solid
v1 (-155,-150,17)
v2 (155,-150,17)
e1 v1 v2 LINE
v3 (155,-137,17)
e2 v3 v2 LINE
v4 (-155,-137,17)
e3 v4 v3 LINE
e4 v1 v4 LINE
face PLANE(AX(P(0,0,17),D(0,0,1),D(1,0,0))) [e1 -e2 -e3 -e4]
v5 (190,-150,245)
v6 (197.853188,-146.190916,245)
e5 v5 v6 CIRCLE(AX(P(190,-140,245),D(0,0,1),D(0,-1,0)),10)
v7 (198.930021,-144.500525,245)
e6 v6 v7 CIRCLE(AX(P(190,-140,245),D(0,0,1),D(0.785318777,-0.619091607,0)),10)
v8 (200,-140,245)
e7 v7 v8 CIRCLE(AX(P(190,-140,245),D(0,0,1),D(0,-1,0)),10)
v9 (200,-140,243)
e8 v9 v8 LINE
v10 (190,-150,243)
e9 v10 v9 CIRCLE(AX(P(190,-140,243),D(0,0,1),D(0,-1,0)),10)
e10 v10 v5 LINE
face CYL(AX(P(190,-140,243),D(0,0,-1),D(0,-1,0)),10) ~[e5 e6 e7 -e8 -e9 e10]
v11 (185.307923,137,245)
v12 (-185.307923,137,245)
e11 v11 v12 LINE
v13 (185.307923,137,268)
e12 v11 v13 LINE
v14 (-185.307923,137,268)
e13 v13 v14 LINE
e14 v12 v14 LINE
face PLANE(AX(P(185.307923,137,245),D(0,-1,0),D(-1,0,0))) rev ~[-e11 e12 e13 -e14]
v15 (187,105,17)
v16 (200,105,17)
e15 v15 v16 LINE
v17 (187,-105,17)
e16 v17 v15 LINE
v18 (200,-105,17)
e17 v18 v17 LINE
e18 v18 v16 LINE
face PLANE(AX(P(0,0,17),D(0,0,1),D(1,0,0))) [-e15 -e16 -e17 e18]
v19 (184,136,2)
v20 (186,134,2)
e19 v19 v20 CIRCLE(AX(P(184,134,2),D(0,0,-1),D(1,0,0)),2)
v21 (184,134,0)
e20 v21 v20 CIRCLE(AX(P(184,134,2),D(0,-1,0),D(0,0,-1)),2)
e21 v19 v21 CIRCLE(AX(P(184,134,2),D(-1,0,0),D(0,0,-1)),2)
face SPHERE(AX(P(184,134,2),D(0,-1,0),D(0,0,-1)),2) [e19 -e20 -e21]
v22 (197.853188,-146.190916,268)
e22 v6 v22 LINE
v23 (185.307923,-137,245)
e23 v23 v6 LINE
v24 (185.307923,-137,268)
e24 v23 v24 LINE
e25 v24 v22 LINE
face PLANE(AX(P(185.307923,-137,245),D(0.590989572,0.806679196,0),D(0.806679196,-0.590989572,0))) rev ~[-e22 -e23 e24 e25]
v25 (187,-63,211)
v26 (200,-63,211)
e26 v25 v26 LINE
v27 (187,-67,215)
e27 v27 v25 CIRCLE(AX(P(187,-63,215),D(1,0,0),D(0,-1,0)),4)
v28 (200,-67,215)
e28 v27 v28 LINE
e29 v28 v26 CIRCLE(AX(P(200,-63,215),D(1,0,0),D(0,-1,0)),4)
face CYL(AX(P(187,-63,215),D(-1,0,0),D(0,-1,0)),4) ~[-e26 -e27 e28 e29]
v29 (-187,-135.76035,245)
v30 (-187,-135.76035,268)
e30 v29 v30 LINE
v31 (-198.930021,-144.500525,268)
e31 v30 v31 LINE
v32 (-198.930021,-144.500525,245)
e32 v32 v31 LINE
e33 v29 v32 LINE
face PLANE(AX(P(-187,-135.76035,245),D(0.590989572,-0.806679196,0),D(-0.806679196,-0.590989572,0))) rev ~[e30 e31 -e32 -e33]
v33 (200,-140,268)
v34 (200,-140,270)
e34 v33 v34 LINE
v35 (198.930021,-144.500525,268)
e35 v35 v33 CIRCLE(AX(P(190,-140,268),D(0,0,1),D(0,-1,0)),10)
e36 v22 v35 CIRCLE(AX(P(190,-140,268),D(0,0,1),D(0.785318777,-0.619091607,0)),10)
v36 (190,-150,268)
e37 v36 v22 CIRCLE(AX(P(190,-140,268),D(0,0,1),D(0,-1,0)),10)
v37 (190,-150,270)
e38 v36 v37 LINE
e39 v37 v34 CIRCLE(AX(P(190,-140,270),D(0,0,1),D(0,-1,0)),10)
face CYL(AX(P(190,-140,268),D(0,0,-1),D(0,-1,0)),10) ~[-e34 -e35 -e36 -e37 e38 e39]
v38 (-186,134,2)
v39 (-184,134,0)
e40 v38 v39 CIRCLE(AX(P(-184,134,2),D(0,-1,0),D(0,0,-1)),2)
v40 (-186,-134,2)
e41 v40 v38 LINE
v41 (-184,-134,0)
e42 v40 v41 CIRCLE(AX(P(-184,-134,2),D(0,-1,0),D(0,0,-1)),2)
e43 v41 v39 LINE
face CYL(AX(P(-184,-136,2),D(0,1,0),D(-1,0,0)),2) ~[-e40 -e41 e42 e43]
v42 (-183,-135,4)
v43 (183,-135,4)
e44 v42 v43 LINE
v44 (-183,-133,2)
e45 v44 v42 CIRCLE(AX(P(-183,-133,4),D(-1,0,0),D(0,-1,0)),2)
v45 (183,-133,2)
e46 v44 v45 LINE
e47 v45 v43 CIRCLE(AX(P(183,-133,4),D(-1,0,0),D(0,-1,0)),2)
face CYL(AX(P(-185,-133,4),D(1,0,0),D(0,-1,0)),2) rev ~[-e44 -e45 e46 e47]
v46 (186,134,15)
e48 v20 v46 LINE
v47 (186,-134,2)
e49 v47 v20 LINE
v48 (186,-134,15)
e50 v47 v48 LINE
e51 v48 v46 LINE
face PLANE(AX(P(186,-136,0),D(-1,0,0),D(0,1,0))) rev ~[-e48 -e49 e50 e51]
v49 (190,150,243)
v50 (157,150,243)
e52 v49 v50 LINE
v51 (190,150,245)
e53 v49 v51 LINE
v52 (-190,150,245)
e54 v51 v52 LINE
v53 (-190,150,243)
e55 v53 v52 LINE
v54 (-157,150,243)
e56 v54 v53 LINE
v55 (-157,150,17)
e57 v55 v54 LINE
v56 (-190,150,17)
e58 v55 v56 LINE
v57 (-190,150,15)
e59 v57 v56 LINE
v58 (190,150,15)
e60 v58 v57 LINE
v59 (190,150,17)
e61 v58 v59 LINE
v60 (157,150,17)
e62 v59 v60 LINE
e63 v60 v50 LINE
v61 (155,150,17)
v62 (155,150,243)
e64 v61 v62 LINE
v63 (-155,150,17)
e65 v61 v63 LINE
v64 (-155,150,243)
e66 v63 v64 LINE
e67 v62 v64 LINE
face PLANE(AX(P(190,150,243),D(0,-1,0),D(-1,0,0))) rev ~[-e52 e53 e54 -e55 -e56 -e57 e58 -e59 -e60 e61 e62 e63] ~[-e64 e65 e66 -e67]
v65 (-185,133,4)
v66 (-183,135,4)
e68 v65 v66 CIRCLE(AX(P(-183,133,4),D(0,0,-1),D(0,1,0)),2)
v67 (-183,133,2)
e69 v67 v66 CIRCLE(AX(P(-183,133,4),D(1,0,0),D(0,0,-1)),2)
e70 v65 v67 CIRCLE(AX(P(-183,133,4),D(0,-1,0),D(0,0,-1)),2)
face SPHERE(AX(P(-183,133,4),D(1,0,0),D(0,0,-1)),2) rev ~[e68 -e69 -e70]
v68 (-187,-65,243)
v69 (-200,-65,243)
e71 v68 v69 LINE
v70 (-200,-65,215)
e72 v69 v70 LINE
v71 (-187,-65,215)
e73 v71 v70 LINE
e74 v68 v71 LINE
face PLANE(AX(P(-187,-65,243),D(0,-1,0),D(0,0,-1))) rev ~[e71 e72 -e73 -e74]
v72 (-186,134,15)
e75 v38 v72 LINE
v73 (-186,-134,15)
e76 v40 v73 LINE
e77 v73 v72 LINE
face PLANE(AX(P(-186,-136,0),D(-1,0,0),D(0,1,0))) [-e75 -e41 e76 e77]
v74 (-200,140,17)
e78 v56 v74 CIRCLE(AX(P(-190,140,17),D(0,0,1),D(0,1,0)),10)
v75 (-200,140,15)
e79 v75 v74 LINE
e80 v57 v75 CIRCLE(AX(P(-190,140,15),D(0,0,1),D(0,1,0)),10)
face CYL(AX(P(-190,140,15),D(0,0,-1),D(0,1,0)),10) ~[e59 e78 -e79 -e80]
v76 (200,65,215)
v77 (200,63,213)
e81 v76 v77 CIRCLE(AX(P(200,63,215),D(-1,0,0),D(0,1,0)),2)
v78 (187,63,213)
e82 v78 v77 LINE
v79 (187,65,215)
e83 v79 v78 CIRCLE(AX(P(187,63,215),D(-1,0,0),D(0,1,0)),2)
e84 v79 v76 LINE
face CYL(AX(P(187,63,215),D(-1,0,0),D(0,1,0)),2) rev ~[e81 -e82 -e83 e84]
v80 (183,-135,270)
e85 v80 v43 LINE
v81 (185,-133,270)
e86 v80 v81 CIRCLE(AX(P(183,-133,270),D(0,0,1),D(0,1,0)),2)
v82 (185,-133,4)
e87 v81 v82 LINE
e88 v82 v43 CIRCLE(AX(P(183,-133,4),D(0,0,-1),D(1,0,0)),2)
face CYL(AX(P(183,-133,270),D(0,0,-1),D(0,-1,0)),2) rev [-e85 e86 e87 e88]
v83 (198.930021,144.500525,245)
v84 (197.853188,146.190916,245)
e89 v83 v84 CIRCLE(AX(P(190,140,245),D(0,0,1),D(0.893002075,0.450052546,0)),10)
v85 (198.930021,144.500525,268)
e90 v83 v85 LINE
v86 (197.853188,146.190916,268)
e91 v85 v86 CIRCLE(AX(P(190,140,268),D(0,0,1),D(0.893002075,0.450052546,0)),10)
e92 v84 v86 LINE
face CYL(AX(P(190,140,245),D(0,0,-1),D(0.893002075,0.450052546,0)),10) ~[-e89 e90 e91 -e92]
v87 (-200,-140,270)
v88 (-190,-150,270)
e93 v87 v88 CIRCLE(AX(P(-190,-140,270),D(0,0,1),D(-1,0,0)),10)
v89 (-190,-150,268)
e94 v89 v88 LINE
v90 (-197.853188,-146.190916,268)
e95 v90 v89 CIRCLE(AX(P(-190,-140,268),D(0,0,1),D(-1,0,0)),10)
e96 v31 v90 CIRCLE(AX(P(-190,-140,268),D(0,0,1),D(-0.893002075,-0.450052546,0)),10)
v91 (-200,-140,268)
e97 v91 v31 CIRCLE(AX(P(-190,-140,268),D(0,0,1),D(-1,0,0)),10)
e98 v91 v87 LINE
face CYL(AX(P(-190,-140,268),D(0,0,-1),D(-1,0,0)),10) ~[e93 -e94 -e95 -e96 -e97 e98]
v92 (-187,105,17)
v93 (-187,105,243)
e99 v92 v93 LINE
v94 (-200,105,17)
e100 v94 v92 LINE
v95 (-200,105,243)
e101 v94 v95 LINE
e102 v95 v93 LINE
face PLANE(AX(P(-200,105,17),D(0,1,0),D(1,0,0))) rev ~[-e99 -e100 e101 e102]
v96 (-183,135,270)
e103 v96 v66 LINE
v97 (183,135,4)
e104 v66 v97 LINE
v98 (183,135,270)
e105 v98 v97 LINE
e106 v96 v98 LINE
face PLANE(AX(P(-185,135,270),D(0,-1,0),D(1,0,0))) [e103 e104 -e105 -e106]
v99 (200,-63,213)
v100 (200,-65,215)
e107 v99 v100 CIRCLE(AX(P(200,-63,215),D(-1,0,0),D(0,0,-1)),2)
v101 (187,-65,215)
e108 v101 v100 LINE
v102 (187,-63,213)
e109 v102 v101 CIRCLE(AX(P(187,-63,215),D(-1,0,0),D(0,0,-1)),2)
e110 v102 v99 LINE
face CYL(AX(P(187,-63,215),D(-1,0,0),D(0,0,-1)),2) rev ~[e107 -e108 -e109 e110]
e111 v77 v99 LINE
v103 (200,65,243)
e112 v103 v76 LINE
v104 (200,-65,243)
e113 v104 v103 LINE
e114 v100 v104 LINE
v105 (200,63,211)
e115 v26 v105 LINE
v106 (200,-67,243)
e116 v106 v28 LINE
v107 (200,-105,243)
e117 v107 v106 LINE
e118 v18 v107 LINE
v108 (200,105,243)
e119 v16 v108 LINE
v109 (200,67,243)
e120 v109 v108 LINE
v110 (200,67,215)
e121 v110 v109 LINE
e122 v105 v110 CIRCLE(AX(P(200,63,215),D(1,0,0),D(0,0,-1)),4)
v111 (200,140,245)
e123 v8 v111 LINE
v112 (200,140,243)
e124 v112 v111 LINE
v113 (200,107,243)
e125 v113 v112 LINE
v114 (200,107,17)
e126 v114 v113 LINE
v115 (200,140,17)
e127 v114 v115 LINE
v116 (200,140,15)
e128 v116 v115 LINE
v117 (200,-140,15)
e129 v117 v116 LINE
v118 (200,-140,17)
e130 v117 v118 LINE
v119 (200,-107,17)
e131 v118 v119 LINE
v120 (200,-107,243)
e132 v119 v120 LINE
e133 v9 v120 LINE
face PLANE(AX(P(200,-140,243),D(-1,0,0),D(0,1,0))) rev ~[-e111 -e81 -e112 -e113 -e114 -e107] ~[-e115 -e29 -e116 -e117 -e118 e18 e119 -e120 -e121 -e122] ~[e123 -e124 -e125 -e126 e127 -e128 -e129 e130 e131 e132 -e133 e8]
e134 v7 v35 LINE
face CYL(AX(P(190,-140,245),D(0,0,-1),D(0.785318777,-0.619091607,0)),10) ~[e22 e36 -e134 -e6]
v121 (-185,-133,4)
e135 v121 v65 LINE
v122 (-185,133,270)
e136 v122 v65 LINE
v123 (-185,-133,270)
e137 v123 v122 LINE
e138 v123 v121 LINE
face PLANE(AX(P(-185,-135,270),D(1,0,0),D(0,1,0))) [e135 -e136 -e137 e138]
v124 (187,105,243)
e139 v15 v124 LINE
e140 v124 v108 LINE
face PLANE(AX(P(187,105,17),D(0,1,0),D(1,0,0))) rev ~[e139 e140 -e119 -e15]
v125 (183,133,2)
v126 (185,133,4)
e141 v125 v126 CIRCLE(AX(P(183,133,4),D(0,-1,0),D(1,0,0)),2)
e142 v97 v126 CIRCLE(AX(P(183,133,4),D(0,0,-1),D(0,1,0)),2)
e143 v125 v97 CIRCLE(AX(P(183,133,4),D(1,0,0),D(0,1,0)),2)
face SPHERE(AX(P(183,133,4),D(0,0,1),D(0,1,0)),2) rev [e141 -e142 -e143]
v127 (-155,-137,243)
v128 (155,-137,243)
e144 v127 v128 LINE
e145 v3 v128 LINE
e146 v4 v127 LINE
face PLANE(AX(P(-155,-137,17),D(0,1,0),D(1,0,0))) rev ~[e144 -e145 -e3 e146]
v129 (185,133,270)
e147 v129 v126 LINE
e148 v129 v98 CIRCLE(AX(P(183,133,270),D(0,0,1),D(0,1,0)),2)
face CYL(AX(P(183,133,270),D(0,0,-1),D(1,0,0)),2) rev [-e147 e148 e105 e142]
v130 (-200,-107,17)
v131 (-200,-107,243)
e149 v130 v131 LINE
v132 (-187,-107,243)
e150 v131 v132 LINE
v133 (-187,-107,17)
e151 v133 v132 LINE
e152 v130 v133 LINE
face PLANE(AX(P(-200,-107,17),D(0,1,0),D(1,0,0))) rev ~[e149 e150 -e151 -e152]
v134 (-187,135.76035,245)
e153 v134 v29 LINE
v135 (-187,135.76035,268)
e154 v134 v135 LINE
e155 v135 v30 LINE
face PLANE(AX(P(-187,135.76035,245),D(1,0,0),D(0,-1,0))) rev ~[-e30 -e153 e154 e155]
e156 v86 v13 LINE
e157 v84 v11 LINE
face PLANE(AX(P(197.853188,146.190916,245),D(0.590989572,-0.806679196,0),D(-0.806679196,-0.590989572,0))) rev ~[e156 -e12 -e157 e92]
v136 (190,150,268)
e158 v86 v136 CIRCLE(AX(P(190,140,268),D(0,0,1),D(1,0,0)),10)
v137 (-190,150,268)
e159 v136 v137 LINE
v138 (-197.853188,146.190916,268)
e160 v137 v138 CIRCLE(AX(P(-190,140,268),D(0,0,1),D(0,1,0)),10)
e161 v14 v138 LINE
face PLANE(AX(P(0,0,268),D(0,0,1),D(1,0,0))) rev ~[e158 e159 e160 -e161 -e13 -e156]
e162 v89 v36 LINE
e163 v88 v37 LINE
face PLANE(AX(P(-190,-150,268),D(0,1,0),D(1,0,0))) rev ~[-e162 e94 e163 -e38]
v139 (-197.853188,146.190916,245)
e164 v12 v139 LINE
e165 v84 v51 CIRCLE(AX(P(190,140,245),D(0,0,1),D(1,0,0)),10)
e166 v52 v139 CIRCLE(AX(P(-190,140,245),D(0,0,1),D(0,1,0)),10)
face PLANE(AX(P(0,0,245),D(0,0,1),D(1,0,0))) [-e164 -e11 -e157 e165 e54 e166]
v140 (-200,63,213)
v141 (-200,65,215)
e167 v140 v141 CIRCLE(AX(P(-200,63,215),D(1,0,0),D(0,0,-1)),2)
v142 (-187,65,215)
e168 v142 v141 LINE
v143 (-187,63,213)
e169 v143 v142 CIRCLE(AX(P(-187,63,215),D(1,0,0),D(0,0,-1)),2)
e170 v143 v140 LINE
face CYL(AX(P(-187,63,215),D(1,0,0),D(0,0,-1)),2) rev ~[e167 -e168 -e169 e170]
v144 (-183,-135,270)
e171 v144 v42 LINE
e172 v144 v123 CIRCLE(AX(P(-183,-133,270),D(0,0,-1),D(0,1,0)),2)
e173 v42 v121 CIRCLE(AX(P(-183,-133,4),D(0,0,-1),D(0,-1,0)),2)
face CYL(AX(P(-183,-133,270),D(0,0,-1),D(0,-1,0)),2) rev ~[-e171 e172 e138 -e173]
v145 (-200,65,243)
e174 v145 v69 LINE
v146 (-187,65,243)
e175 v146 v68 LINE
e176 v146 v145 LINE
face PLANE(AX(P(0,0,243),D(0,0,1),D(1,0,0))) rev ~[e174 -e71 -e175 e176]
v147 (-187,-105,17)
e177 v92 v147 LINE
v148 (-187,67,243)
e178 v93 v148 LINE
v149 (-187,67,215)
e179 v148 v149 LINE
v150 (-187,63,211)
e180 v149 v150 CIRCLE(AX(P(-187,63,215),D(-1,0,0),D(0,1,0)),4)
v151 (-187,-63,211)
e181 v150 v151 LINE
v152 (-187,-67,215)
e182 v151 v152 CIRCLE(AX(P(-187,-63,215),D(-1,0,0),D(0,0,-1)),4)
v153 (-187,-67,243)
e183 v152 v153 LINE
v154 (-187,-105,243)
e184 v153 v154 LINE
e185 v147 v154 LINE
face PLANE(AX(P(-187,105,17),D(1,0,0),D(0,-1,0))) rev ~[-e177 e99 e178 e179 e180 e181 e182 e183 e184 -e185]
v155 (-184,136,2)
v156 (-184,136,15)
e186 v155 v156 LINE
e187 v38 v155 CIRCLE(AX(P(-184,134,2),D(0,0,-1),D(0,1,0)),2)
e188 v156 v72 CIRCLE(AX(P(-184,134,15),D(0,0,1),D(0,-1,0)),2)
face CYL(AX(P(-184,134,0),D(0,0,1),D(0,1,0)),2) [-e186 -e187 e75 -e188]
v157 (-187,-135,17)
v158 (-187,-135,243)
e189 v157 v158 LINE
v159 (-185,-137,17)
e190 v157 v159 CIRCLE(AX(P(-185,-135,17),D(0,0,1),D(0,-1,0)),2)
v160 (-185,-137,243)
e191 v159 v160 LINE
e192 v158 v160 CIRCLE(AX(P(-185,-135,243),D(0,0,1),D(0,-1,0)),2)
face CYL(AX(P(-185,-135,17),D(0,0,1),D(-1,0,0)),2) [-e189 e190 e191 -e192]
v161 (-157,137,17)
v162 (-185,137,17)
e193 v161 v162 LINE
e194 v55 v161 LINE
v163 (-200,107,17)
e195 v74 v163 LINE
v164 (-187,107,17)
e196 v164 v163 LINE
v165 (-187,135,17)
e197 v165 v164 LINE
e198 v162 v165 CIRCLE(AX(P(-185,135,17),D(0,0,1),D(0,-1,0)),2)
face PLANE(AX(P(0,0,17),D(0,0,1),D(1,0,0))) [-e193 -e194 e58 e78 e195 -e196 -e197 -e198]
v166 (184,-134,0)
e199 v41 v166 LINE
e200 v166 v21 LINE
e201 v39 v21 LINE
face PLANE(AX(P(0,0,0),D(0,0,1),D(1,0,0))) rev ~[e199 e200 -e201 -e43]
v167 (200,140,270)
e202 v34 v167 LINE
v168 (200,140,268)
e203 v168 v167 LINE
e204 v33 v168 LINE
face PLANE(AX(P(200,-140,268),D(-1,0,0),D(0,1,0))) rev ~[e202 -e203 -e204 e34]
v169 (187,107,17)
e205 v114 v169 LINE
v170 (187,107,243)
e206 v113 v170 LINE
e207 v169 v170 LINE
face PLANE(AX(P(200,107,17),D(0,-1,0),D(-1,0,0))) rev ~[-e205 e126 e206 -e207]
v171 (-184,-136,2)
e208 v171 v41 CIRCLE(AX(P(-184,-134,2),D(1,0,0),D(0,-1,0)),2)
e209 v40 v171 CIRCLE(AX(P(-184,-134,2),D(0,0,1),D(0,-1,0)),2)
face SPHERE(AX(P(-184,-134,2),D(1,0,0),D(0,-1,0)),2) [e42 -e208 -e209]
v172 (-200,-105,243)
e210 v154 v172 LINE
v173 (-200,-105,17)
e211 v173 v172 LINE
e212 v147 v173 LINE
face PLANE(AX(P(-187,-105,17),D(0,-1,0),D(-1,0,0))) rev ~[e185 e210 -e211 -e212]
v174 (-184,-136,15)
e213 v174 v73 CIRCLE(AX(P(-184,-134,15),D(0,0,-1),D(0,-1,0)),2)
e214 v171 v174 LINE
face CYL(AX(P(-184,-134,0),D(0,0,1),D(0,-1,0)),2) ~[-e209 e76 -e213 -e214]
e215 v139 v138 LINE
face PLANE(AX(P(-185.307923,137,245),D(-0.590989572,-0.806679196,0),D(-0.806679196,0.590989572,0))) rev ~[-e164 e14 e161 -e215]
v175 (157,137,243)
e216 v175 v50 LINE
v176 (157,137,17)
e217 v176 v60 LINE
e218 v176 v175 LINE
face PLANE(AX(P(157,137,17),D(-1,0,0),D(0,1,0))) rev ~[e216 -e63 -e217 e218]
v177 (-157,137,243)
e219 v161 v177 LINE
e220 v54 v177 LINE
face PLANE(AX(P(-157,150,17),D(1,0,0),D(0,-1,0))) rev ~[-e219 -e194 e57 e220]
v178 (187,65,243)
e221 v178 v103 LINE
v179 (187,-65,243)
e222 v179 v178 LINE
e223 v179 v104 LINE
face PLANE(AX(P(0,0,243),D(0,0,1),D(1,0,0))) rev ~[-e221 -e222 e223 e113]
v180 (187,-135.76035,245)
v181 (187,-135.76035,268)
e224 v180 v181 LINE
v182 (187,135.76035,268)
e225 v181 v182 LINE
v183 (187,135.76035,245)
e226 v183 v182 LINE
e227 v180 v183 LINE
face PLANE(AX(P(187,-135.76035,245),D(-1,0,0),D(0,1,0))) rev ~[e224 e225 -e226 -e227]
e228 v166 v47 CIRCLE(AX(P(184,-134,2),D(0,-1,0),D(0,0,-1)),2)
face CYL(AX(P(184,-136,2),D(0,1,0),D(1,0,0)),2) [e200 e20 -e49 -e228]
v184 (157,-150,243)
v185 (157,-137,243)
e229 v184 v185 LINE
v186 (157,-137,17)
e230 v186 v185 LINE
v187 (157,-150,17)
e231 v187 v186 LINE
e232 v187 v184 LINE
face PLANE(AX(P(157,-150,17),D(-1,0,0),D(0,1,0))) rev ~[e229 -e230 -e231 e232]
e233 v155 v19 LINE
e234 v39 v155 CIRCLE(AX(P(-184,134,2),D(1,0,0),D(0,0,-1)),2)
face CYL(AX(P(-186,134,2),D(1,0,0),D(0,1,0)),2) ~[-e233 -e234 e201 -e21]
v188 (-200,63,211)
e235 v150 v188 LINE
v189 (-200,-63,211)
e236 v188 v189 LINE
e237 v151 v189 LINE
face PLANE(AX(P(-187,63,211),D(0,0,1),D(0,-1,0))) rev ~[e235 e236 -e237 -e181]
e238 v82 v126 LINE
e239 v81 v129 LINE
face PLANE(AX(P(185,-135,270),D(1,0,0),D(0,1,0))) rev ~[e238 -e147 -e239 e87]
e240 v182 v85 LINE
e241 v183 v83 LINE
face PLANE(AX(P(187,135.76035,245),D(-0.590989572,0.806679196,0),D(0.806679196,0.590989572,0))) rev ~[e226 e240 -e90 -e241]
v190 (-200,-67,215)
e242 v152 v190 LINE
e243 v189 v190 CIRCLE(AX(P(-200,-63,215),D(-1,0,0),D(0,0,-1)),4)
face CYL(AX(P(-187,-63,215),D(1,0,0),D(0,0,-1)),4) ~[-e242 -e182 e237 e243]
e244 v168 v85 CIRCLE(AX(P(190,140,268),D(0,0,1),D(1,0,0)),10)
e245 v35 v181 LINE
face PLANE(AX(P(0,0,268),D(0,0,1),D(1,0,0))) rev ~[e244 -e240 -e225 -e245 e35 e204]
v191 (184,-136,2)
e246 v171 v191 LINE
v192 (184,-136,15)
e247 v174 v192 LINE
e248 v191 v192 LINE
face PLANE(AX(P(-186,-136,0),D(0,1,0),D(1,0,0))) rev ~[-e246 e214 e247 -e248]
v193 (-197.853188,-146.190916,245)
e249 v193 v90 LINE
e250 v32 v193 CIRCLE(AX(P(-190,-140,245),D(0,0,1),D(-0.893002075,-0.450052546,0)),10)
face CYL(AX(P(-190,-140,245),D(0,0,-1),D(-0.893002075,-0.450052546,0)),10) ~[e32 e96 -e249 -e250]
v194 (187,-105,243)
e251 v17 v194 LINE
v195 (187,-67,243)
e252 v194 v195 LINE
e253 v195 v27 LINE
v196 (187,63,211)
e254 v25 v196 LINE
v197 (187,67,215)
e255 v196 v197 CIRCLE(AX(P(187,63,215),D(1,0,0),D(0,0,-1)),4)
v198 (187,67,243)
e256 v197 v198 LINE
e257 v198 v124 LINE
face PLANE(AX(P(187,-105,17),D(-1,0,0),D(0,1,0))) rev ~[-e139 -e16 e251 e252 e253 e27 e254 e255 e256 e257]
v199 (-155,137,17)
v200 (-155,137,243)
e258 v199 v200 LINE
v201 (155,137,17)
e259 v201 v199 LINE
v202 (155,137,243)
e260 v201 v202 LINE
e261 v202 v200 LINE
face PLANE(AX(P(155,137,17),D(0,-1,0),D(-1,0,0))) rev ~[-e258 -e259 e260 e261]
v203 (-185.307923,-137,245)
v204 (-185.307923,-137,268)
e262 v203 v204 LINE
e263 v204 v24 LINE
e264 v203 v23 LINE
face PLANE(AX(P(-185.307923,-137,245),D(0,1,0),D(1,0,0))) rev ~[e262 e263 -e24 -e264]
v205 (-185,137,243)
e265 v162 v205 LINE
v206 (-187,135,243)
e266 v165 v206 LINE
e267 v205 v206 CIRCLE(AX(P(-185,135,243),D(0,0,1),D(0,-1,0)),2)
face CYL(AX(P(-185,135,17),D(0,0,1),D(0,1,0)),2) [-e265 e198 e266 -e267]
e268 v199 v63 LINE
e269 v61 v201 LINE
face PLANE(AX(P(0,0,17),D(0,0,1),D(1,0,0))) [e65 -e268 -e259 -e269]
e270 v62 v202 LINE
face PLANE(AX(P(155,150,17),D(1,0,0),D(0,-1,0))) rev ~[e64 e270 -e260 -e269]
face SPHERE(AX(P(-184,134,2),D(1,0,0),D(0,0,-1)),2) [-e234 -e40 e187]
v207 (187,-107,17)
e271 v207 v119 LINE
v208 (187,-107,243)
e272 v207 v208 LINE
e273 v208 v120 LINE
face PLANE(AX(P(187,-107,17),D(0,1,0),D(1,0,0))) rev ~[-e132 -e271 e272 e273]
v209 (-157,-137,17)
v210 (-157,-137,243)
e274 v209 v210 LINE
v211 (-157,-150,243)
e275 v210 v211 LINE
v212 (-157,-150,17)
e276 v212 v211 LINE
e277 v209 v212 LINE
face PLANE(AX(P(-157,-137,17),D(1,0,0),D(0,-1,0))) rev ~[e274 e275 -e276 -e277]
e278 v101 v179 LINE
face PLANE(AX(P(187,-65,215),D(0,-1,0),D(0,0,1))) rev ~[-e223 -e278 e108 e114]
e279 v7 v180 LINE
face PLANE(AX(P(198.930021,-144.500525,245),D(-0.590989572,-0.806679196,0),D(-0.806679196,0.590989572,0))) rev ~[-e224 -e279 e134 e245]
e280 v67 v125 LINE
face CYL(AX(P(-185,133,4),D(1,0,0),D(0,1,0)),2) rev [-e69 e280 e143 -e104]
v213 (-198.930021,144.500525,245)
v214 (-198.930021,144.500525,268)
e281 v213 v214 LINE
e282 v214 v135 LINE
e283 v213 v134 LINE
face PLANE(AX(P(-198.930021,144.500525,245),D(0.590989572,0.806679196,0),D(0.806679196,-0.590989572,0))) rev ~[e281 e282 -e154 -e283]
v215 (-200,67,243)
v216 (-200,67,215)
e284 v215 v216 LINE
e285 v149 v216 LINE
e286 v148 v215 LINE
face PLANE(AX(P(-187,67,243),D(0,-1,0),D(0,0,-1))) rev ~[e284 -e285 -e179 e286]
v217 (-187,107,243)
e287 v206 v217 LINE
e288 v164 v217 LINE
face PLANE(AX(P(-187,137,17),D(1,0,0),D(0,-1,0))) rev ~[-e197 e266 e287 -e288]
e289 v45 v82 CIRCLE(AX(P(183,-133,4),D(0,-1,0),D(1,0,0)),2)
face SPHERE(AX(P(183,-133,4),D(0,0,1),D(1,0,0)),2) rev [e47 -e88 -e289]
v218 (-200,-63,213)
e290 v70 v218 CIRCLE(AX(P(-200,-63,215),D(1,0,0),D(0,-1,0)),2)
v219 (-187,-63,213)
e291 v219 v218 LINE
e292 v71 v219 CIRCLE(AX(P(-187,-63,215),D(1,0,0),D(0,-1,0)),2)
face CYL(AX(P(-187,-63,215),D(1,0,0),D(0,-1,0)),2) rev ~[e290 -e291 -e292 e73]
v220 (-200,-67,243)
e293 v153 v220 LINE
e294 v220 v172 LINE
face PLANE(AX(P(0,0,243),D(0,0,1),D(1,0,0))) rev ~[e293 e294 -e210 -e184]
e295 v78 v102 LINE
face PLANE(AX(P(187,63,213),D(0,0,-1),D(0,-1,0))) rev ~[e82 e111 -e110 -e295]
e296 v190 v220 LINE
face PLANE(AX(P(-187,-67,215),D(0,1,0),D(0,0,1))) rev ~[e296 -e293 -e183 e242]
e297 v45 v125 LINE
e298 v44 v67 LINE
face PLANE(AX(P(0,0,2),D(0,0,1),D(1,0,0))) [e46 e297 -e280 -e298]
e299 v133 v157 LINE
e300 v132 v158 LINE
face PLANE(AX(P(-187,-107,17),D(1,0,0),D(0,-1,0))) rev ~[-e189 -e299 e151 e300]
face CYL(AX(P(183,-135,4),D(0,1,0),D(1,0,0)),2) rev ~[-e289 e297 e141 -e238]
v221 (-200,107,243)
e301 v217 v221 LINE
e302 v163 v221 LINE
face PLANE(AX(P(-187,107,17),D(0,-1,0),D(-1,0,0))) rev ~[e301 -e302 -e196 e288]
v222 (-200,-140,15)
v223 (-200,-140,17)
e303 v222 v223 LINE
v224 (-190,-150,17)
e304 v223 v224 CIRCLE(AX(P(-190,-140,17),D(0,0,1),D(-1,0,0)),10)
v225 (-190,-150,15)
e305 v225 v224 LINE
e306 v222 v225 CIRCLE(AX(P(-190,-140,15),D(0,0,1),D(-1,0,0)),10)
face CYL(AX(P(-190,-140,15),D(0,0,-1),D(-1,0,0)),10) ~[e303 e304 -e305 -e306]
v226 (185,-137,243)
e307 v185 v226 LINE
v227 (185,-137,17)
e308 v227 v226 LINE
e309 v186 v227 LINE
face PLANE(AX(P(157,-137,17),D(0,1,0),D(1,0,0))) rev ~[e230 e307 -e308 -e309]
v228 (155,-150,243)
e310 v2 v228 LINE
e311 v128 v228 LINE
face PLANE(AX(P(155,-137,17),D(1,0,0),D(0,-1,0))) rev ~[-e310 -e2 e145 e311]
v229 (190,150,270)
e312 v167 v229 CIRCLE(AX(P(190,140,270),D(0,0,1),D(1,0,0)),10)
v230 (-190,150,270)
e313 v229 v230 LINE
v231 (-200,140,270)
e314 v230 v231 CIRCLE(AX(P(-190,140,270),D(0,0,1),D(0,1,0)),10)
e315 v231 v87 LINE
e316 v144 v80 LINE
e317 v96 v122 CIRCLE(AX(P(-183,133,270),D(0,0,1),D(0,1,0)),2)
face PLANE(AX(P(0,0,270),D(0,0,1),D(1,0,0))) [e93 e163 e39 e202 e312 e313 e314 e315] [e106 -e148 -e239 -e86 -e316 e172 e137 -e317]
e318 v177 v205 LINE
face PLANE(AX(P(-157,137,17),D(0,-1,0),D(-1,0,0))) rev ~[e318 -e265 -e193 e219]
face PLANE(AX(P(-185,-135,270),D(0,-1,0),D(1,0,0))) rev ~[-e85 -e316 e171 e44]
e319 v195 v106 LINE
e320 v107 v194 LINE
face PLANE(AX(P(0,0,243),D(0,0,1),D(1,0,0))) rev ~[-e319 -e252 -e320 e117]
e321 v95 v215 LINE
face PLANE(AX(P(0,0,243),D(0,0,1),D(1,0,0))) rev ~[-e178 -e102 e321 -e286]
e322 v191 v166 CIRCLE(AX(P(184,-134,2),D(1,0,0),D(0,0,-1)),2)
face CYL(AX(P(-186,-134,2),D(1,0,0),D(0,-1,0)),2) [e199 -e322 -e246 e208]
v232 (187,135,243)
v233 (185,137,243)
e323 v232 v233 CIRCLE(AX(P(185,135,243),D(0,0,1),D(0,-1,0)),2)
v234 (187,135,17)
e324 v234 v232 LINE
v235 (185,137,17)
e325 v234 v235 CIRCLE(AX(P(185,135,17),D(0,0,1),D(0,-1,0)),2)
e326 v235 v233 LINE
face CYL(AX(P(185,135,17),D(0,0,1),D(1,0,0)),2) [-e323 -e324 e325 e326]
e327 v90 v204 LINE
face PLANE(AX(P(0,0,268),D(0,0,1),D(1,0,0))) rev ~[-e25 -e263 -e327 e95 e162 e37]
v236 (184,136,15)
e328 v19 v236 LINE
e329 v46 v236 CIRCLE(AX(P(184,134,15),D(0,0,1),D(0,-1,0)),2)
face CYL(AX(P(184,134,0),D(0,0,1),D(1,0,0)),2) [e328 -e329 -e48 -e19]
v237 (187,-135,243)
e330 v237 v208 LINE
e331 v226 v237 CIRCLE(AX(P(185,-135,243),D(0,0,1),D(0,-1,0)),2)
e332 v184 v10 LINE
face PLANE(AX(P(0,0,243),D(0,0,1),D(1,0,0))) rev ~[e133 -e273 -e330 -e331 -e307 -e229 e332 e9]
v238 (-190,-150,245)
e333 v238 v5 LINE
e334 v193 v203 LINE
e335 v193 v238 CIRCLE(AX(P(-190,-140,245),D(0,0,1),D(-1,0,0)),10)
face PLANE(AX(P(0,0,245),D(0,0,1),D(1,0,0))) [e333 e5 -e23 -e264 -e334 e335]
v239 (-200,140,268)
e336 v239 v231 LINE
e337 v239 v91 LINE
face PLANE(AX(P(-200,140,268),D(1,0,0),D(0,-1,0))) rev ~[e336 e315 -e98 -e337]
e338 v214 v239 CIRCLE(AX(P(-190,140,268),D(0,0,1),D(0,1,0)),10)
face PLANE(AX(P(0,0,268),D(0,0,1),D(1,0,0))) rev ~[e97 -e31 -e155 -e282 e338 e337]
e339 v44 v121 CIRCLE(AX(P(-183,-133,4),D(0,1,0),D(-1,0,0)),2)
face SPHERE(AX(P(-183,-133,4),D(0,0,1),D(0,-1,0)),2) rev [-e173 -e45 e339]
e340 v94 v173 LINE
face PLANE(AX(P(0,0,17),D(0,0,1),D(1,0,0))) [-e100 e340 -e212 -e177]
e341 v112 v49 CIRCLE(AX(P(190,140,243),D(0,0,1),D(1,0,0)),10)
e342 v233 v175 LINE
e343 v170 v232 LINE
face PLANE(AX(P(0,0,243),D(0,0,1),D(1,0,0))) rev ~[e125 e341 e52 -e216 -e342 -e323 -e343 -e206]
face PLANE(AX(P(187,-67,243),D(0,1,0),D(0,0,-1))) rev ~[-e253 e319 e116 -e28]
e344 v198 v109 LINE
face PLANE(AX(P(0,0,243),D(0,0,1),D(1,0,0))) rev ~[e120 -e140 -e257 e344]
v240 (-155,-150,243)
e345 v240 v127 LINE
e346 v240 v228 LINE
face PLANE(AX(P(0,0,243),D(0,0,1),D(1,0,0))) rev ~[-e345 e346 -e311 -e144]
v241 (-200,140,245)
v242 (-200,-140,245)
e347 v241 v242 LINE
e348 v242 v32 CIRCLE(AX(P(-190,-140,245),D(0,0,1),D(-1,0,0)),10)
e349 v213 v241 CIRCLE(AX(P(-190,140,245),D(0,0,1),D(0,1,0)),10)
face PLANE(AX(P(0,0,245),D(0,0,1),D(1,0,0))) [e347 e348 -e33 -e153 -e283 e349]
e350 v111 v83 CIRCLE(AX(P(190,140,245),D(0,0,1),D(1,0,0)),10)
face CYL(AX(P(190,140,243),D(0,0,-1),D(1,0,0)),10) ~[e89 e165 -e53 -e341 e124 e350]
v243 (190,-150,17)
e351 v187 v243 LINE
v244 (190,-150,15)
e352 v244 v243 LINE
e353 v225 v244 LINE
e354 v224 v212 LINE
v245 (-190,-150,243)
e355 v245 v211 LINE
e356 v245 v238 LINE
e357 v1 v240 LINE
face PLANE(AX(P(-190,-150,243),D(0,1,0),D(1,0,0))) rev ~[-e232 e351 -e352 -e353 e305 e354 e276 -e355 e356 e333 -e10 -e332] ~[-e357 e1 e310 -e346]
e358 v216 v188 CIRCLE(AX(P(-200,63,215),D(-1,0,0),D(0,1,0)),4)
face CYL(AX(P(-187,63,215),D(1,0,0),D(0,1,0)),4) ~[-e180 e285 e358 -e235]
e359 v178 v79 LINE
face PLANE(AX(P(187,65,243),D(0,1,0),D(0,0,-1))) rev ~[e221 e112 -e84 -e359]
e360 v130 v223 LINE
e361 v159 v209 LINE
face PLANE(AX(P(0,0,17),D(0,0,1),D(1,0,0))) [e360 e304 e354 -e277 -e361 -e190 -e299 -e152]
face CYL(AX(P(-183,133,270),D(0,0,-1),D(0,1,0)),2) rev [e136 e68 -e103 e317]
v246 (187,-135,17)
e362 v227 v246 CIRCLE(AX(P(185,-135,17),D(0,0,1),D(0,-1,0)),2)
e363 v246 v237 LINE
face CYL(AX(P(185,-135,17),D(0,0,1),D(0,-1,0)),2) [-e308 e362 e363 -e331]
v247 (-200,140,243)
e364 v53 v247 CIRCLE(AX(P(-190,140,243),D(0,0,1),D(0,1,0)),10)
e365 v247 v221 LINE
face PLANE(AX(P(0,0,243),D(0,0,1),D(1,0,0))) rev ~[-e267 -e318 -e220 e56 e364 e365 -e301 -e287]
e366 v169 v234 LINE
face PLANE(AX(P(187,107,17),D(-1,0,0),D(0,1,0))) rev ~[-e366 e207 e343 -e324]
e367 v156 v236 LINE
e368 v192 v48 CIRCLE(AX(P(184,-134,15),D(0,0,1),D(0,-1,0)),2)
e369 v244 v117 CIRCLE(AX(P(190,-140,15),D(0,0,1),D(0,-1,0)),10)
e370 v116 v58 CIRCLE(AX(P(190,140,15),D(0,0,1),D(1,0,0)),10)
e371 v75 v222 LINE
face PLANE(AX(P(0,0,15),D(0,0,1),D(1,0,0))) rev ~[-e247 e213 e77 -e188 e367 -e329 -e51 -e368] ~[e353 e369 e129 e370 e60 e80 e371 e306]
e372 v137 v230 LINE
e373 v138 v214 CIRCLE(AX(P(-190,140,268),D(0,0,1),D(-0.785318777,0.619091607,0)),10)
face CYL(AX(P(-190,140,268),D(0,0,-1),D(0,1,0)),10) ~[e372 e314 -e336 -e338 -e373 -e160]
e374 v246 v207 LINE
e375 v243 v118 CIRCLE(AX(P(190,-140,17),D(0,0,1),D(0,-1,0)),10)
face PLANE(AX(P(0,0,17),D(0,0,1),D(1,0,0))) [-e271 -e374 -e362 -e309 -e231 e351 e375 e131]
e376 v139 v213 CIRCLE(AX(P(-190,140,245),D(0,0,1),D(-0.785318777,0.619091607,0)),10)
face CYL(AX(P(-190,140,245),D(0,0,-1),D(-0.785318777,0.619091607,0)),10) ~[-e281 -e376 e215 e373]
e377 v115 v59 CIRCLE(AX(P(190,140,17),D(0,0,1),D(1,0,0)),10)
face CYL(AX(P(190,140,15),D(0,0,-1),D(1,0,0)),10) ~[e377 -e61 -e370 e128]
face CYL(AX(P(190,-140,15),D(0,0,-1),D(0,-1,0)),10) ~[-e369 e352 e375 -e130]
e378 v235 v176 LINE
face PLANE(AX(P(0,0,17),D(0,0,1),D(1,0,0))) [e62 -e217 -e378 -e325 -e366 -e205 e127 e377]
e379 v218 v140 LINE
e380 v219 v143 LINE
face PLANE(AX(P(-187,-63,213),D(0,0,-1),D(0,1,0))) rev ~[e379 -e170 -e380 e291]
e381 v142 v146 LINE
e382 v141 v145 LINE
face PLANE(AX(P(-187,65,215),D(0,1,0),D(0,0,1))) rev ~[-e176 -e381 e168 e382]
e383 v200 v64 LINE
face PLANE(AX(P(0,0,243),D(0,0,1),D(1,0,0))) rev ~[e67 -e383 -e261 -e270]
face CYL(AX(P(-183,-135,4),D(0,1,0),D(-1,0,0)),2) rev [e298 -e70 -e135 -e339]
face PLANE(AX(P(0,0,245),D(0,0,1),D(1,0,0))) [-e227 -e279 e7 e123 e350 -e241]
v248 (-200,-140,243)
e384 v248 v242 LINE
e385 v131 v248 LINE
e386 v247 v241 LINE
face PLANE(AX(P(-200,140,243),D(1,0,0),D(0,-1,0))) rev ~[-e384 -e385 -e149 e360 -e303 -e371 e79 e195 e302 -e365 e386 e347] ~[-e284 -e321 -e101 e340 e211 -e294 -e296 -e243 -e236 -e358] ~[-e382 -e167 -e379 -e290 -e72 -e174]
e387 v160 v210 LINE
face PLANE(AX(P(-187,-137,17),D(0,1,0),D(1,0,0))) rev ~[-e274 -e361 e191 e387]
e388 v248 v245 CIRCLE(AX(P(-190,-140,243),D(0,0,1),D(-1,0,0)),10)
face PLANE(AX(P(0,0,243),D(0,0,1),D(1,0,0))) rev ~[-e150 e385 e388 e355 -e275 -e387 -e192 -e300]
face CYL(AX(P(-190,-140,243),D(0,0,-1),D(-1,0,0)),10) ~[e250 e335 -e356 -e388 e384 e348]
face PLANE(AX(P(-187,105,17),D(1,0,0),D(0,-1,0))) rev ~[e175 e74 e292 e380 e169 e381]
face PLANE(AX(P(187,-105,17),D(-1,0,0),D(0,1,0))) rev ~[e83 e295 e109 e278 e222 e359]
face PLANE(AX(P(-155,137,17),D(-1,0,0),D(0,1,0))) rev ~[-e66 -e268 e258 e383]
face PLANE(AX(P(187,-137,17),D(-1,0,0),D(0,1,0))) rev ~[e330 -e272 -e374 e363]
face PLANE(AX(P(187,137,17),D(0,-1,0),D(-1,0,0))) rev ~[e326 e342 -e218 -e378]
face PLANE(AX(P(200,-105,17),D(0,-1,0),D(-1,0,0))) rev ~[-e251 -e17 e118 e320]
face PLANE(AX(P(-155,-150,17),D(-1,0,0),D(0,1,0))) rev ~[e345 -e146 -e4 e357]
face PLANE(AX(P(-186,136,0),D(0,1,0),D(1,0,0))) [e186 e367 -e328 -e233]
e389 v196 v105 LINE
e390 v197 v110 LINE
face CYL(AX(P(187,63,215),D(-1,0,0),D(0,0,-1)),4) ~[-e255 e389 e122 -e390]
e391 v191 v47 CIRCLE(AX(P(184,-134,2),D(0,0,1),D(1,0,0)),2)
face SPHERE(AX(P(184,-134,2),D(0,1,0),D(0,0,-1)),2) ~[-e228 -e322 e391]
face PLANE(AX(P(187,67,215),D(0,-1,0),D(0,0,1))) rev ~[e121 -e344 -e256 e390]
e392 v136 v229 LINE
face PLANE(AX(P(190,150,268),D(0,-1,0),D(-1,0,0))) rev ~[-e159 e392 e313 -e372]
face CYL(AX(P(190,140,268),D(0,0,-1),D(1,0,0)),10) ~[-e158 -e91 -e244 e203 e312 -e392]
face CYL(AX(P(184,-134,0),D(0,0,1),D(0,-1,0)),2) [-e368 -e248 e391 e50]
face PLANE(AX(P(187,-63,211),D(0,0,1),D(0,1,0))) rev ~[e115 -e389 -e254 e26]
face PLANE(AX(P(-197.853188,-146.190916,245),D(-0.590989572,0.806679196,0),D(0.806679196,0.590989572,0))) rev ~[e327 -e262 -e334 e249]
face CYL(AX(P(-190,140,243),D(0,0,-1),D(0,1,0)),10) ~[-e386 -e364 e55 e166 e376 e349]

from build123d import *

# Parameters (mm, degrees)
F0_W      = 372
F0_H      = 272
F1_DEPTH  = 15
F2_W      = 372
F2_H      = 272
F3_DEPTH  = 2
F5_DEPTH  = 226
F7_DEPTH  = 2
F9_DEPTH  = 23
F11_DEPTH = 2
F12_W     = 370
F12_H     = 270
F13_DEPTH = 268
F15_DEPTH = 13
F17_DEPTH = 13
F18_R     = 2


with BuildPart() as f1:
    # F0 (on Top) → F1 (new body)
    with BuildSketch(Plane.XY):
        Rectangle(F0_W, F0_H)
    extrude(amount=F1_DEPTH)

    # F2 (on face) → F3 (join)
    with BuildSketch(Plane.XY.offset(15)):
        with BuildLine():
            Line((-190, -150), (190, -150))
            ThreePointArc((190, -150), (197.0710678119, -147.0710678119), (200, -140))
            Line((200, -140), (200, 140))
            ThreePointArc((200, 140), (197.0710678119, 147.0710678119), (190, 150))
            Line((190, 150), (-190, 150))
            ThreePointArc((-190, 150), (-197.0710678119, 147.0710678119), (-200, 140))
            Line((-200, 140), (-200, -140))
            ThreePointArc((-200, -140), (-197.0710678119, -147.0710678119), (-190, -150))
        make_face()
        Rectangle(F2_W, F2_H, mode=Mode.SUBTRACT)
        Rectangle(F2_W, F2_H)
    extrude(amount=F3_DEPTH)

    # F4 (on face) → F5 (join)
    with BuildSketch(Plane.XY.offset(17)):
        Polygon((157, -137), (187, -137), (187, -107), (200, -107), (200, -105), (187, -105), (187, 105), (200, 105), (200, 107), (187, 107), (187, 137), (157, 137), (157, 150), (155, 150), (155, 137), (-155, 137), (-155, 150), (-157, 150), (-157, 137), (-187, 137), (-187, 107), (-200, 107), (-200, 105), (-187, 105), (-187, -105), (-200, -105), (-200, -107), (-187, -107), (-187, -137), (-157, -137), (-157, -150), (-155, -150), (-155, -137), (155, -137), (155, -150), (157, -150), align=None)
    extrude(amount=F5_DEPTH)

    # F6 (on face) → F7 (join)
    with BuildSketch(Plane.XY.offset(243)):
        with BuildLine():
            Line((190, 150), (-190, 150))
            ThreePointArc((-190, 150), (-197.0710678119, 147.0710678119), (-200, 140))
            Line((-200, 140), (-200, -140))
            ThreePointArc((-200, -140), (-197.0710678119, -147.0710678119), (-190, -150))
            Line((-190, -150), (190, -150))
            ThreePointArc((190, -150), (197.0710678119, -147.0710678119), (200, -140))
            Line((200, -140), (200, 140))
            ThreePointArc((200, 140), (197.0710678119, 147.0710678119), (190, 150))
        make_face()
    extrude(amount=F7_DEPTH)

    # F8 (on face) → F9 (join)
    with BuildSketch(Plane.XY.offset(245)):
        with BuildLine():
            Line((-185.3079227659, -137), (185.3079227659, -137))
            Line((185.3079227659, -137), (197.8531877713, -146.1909160735))
            ThreePointArc((197.8531877713, -146.1909160735), (198.4340605379, -145.3727667773), (198.9300207482, -144.5005254622))
            Line((198.9300207482, -144.5005254622), (187, -135.7603498338))
            Line((187, -135.7603498338), (187, 135.7603498338))
            Line((187, 135.7603498338), (198.9300207482, 144.5005254622))
            ThreePointArc((198.9300207482, 144.5005254622), (198.4340605379, 145.3727667773), (197.8531877713, 146.1909160735))
            Line((197.8531877713, 146.1909160735), (185.3079227659, 137))
            Line((185.3079227659, 137), (-185.3079227659, 137))
            Line((-185.3079227659, 137), (-197.8531877713, 146.1909160735))
            ThreePointArc((-197.8531877713, 146.1909160735), (-198.4340605379, 145.3727667773), (-198.9300207482, 144.5005254622))
            Line((-198.9300207482, 144.5005254622), (-187, 135.7603498338))
            Line((-187, 135.7603498338), (-187, -135.7603498338))
            Line((-187, -135.7603498338), (-198.9300207482, -144.5005254622))
            ThreePointArc((-198.9300207482, -144.5005254622), (-198.4340605379, -145.3727667773), (-197.8531877713, -146.1909160735))
            Line((-197.8531877713, -146.1909160735), (-185.3079227659, -137))
        make_face()
    extrude(amount=F9_DEPTH)

    # F10 (on face) → F11 (join)
    with BuildSketch(Plane.XY.offset(268)):
        with BuildLine():
            Line((-190, -150), (190, -150))
            ThreePointArc((190, -150), (197.0710678119, -147.0710678119), (200, -140))
            Line((200, -140), (200, 140))
            ThreePointArc((200, 140), (197.0710678119, 147.0710678119), (190, 150))
            Line((190, 150), (-190, 150))
            ThreePointArc((-190, 150), (-197.0710678119, 147.0710678119), (-200, 140))
            Line((-200, 140), (-200, -140))
            ThreePointArc((-200, -140), (-197.0710678119, -147.0710678119), (-190, -150))
        make_face()
    extrude(amount=F11_DEPTH)

    # F12 (on face) → F13 (cut)
    with BuildSketch(Plane.XY.offset(270)):
        Rectangle(F12_W, F12_H)
    extrude(amount=-F13_DEPTH, mode=Mode.SUBTRACT)

    # F14 (on face) → F15 (join, through all)
    with BuildSketch(Plane(origin=(-187, 0, 0), x_dir=(0, -1, 0), z_dir=(-1, 0, 0))):
        with BuildLine():
            Line((-63, 211), (63, 211))
            ThreePointArc((63, 211), (65.8284271247, 212.1715728753), (67, 215))
            Line((67, 215), (67, 243))
            Line((67, 243), (65, 243))
            Line((65, 243), (65, 215))
            ThreePointArc((65, 215), (64.4142135624, 213.5857864376), (63, 213))
            Line((63, 213), (-63, 213))
            ThreePointArc((-63, 213), (-64.4142135624, 213.5857864376), (-65, 215))
            Line((-65, 215), (-65, 243))
            Line((-65, 243), (-67, 243))
            Line((-67, 243), (-67, 215))
            ThreePointArc((-67, 215), (-65.8284271247, 212.1715728753), (-63, 211))
        make_face()
    extrude(amount=F15_DEPTH)

    # F16 (on face) → F17 (join, through all)
    with BuildSketch(Plane.YZ.offset(187)):
        with BuildLine():
            ThreePointArc((63, 211), (65.8284271247, 212.1715728753), (67, 215))
            Line((67, 215), (67, 243))
            Line((67, 243), (65, 243))
            Line((65, 243), (65, 215))
            ThreePointArc((65, 215), (64.4142135624, 213.5857864376), (63, 213))
            Line((63, 213), (-63, 213))
            ThreePointArc((-63, 213), (-64.4142135624, 213.5857864376), (-65, 215))
            Line((-65, 215), (-65, 243))
            Line((-65, 243), (-67, 243))
            Line((-67, 243), (-67, 215))
            ThreePointArc((-67, 215), (-65.8284271247, 212.1715728753), (-63, 211))
            Line((-63, 211), (63, 211))
        make_face()
    extrude(amount=F17_DEPTH)

    # F18
    f18_edges = [f1.edges().sort_by_distance(p)[0] for p in [
        (-185, -135, 136),
        (185, -135, 136),
        (185, 135, 136),
        (0, 135, 2),
        (185, 0, 2),
        (0, -135, 2),
        (-185, 0, 2),
        (-185, 135, 136),
        (187, -137, 130),
        (187, 137, 130),
        (-187, 137, 130),
        (-187, -137, 130),
        (186, 0, 0),
        (0, 136, 0),
        (186, 136, 7.5),
        (0, -136, 0),
        (186, -136, 7.5),
        (-186, -136, 7.5),
        (-186, 0, 0),
        (-186, 136, 7.5),
    ]]
    fillet(f18_edges, radius=F18_R)


solid = f1.part
